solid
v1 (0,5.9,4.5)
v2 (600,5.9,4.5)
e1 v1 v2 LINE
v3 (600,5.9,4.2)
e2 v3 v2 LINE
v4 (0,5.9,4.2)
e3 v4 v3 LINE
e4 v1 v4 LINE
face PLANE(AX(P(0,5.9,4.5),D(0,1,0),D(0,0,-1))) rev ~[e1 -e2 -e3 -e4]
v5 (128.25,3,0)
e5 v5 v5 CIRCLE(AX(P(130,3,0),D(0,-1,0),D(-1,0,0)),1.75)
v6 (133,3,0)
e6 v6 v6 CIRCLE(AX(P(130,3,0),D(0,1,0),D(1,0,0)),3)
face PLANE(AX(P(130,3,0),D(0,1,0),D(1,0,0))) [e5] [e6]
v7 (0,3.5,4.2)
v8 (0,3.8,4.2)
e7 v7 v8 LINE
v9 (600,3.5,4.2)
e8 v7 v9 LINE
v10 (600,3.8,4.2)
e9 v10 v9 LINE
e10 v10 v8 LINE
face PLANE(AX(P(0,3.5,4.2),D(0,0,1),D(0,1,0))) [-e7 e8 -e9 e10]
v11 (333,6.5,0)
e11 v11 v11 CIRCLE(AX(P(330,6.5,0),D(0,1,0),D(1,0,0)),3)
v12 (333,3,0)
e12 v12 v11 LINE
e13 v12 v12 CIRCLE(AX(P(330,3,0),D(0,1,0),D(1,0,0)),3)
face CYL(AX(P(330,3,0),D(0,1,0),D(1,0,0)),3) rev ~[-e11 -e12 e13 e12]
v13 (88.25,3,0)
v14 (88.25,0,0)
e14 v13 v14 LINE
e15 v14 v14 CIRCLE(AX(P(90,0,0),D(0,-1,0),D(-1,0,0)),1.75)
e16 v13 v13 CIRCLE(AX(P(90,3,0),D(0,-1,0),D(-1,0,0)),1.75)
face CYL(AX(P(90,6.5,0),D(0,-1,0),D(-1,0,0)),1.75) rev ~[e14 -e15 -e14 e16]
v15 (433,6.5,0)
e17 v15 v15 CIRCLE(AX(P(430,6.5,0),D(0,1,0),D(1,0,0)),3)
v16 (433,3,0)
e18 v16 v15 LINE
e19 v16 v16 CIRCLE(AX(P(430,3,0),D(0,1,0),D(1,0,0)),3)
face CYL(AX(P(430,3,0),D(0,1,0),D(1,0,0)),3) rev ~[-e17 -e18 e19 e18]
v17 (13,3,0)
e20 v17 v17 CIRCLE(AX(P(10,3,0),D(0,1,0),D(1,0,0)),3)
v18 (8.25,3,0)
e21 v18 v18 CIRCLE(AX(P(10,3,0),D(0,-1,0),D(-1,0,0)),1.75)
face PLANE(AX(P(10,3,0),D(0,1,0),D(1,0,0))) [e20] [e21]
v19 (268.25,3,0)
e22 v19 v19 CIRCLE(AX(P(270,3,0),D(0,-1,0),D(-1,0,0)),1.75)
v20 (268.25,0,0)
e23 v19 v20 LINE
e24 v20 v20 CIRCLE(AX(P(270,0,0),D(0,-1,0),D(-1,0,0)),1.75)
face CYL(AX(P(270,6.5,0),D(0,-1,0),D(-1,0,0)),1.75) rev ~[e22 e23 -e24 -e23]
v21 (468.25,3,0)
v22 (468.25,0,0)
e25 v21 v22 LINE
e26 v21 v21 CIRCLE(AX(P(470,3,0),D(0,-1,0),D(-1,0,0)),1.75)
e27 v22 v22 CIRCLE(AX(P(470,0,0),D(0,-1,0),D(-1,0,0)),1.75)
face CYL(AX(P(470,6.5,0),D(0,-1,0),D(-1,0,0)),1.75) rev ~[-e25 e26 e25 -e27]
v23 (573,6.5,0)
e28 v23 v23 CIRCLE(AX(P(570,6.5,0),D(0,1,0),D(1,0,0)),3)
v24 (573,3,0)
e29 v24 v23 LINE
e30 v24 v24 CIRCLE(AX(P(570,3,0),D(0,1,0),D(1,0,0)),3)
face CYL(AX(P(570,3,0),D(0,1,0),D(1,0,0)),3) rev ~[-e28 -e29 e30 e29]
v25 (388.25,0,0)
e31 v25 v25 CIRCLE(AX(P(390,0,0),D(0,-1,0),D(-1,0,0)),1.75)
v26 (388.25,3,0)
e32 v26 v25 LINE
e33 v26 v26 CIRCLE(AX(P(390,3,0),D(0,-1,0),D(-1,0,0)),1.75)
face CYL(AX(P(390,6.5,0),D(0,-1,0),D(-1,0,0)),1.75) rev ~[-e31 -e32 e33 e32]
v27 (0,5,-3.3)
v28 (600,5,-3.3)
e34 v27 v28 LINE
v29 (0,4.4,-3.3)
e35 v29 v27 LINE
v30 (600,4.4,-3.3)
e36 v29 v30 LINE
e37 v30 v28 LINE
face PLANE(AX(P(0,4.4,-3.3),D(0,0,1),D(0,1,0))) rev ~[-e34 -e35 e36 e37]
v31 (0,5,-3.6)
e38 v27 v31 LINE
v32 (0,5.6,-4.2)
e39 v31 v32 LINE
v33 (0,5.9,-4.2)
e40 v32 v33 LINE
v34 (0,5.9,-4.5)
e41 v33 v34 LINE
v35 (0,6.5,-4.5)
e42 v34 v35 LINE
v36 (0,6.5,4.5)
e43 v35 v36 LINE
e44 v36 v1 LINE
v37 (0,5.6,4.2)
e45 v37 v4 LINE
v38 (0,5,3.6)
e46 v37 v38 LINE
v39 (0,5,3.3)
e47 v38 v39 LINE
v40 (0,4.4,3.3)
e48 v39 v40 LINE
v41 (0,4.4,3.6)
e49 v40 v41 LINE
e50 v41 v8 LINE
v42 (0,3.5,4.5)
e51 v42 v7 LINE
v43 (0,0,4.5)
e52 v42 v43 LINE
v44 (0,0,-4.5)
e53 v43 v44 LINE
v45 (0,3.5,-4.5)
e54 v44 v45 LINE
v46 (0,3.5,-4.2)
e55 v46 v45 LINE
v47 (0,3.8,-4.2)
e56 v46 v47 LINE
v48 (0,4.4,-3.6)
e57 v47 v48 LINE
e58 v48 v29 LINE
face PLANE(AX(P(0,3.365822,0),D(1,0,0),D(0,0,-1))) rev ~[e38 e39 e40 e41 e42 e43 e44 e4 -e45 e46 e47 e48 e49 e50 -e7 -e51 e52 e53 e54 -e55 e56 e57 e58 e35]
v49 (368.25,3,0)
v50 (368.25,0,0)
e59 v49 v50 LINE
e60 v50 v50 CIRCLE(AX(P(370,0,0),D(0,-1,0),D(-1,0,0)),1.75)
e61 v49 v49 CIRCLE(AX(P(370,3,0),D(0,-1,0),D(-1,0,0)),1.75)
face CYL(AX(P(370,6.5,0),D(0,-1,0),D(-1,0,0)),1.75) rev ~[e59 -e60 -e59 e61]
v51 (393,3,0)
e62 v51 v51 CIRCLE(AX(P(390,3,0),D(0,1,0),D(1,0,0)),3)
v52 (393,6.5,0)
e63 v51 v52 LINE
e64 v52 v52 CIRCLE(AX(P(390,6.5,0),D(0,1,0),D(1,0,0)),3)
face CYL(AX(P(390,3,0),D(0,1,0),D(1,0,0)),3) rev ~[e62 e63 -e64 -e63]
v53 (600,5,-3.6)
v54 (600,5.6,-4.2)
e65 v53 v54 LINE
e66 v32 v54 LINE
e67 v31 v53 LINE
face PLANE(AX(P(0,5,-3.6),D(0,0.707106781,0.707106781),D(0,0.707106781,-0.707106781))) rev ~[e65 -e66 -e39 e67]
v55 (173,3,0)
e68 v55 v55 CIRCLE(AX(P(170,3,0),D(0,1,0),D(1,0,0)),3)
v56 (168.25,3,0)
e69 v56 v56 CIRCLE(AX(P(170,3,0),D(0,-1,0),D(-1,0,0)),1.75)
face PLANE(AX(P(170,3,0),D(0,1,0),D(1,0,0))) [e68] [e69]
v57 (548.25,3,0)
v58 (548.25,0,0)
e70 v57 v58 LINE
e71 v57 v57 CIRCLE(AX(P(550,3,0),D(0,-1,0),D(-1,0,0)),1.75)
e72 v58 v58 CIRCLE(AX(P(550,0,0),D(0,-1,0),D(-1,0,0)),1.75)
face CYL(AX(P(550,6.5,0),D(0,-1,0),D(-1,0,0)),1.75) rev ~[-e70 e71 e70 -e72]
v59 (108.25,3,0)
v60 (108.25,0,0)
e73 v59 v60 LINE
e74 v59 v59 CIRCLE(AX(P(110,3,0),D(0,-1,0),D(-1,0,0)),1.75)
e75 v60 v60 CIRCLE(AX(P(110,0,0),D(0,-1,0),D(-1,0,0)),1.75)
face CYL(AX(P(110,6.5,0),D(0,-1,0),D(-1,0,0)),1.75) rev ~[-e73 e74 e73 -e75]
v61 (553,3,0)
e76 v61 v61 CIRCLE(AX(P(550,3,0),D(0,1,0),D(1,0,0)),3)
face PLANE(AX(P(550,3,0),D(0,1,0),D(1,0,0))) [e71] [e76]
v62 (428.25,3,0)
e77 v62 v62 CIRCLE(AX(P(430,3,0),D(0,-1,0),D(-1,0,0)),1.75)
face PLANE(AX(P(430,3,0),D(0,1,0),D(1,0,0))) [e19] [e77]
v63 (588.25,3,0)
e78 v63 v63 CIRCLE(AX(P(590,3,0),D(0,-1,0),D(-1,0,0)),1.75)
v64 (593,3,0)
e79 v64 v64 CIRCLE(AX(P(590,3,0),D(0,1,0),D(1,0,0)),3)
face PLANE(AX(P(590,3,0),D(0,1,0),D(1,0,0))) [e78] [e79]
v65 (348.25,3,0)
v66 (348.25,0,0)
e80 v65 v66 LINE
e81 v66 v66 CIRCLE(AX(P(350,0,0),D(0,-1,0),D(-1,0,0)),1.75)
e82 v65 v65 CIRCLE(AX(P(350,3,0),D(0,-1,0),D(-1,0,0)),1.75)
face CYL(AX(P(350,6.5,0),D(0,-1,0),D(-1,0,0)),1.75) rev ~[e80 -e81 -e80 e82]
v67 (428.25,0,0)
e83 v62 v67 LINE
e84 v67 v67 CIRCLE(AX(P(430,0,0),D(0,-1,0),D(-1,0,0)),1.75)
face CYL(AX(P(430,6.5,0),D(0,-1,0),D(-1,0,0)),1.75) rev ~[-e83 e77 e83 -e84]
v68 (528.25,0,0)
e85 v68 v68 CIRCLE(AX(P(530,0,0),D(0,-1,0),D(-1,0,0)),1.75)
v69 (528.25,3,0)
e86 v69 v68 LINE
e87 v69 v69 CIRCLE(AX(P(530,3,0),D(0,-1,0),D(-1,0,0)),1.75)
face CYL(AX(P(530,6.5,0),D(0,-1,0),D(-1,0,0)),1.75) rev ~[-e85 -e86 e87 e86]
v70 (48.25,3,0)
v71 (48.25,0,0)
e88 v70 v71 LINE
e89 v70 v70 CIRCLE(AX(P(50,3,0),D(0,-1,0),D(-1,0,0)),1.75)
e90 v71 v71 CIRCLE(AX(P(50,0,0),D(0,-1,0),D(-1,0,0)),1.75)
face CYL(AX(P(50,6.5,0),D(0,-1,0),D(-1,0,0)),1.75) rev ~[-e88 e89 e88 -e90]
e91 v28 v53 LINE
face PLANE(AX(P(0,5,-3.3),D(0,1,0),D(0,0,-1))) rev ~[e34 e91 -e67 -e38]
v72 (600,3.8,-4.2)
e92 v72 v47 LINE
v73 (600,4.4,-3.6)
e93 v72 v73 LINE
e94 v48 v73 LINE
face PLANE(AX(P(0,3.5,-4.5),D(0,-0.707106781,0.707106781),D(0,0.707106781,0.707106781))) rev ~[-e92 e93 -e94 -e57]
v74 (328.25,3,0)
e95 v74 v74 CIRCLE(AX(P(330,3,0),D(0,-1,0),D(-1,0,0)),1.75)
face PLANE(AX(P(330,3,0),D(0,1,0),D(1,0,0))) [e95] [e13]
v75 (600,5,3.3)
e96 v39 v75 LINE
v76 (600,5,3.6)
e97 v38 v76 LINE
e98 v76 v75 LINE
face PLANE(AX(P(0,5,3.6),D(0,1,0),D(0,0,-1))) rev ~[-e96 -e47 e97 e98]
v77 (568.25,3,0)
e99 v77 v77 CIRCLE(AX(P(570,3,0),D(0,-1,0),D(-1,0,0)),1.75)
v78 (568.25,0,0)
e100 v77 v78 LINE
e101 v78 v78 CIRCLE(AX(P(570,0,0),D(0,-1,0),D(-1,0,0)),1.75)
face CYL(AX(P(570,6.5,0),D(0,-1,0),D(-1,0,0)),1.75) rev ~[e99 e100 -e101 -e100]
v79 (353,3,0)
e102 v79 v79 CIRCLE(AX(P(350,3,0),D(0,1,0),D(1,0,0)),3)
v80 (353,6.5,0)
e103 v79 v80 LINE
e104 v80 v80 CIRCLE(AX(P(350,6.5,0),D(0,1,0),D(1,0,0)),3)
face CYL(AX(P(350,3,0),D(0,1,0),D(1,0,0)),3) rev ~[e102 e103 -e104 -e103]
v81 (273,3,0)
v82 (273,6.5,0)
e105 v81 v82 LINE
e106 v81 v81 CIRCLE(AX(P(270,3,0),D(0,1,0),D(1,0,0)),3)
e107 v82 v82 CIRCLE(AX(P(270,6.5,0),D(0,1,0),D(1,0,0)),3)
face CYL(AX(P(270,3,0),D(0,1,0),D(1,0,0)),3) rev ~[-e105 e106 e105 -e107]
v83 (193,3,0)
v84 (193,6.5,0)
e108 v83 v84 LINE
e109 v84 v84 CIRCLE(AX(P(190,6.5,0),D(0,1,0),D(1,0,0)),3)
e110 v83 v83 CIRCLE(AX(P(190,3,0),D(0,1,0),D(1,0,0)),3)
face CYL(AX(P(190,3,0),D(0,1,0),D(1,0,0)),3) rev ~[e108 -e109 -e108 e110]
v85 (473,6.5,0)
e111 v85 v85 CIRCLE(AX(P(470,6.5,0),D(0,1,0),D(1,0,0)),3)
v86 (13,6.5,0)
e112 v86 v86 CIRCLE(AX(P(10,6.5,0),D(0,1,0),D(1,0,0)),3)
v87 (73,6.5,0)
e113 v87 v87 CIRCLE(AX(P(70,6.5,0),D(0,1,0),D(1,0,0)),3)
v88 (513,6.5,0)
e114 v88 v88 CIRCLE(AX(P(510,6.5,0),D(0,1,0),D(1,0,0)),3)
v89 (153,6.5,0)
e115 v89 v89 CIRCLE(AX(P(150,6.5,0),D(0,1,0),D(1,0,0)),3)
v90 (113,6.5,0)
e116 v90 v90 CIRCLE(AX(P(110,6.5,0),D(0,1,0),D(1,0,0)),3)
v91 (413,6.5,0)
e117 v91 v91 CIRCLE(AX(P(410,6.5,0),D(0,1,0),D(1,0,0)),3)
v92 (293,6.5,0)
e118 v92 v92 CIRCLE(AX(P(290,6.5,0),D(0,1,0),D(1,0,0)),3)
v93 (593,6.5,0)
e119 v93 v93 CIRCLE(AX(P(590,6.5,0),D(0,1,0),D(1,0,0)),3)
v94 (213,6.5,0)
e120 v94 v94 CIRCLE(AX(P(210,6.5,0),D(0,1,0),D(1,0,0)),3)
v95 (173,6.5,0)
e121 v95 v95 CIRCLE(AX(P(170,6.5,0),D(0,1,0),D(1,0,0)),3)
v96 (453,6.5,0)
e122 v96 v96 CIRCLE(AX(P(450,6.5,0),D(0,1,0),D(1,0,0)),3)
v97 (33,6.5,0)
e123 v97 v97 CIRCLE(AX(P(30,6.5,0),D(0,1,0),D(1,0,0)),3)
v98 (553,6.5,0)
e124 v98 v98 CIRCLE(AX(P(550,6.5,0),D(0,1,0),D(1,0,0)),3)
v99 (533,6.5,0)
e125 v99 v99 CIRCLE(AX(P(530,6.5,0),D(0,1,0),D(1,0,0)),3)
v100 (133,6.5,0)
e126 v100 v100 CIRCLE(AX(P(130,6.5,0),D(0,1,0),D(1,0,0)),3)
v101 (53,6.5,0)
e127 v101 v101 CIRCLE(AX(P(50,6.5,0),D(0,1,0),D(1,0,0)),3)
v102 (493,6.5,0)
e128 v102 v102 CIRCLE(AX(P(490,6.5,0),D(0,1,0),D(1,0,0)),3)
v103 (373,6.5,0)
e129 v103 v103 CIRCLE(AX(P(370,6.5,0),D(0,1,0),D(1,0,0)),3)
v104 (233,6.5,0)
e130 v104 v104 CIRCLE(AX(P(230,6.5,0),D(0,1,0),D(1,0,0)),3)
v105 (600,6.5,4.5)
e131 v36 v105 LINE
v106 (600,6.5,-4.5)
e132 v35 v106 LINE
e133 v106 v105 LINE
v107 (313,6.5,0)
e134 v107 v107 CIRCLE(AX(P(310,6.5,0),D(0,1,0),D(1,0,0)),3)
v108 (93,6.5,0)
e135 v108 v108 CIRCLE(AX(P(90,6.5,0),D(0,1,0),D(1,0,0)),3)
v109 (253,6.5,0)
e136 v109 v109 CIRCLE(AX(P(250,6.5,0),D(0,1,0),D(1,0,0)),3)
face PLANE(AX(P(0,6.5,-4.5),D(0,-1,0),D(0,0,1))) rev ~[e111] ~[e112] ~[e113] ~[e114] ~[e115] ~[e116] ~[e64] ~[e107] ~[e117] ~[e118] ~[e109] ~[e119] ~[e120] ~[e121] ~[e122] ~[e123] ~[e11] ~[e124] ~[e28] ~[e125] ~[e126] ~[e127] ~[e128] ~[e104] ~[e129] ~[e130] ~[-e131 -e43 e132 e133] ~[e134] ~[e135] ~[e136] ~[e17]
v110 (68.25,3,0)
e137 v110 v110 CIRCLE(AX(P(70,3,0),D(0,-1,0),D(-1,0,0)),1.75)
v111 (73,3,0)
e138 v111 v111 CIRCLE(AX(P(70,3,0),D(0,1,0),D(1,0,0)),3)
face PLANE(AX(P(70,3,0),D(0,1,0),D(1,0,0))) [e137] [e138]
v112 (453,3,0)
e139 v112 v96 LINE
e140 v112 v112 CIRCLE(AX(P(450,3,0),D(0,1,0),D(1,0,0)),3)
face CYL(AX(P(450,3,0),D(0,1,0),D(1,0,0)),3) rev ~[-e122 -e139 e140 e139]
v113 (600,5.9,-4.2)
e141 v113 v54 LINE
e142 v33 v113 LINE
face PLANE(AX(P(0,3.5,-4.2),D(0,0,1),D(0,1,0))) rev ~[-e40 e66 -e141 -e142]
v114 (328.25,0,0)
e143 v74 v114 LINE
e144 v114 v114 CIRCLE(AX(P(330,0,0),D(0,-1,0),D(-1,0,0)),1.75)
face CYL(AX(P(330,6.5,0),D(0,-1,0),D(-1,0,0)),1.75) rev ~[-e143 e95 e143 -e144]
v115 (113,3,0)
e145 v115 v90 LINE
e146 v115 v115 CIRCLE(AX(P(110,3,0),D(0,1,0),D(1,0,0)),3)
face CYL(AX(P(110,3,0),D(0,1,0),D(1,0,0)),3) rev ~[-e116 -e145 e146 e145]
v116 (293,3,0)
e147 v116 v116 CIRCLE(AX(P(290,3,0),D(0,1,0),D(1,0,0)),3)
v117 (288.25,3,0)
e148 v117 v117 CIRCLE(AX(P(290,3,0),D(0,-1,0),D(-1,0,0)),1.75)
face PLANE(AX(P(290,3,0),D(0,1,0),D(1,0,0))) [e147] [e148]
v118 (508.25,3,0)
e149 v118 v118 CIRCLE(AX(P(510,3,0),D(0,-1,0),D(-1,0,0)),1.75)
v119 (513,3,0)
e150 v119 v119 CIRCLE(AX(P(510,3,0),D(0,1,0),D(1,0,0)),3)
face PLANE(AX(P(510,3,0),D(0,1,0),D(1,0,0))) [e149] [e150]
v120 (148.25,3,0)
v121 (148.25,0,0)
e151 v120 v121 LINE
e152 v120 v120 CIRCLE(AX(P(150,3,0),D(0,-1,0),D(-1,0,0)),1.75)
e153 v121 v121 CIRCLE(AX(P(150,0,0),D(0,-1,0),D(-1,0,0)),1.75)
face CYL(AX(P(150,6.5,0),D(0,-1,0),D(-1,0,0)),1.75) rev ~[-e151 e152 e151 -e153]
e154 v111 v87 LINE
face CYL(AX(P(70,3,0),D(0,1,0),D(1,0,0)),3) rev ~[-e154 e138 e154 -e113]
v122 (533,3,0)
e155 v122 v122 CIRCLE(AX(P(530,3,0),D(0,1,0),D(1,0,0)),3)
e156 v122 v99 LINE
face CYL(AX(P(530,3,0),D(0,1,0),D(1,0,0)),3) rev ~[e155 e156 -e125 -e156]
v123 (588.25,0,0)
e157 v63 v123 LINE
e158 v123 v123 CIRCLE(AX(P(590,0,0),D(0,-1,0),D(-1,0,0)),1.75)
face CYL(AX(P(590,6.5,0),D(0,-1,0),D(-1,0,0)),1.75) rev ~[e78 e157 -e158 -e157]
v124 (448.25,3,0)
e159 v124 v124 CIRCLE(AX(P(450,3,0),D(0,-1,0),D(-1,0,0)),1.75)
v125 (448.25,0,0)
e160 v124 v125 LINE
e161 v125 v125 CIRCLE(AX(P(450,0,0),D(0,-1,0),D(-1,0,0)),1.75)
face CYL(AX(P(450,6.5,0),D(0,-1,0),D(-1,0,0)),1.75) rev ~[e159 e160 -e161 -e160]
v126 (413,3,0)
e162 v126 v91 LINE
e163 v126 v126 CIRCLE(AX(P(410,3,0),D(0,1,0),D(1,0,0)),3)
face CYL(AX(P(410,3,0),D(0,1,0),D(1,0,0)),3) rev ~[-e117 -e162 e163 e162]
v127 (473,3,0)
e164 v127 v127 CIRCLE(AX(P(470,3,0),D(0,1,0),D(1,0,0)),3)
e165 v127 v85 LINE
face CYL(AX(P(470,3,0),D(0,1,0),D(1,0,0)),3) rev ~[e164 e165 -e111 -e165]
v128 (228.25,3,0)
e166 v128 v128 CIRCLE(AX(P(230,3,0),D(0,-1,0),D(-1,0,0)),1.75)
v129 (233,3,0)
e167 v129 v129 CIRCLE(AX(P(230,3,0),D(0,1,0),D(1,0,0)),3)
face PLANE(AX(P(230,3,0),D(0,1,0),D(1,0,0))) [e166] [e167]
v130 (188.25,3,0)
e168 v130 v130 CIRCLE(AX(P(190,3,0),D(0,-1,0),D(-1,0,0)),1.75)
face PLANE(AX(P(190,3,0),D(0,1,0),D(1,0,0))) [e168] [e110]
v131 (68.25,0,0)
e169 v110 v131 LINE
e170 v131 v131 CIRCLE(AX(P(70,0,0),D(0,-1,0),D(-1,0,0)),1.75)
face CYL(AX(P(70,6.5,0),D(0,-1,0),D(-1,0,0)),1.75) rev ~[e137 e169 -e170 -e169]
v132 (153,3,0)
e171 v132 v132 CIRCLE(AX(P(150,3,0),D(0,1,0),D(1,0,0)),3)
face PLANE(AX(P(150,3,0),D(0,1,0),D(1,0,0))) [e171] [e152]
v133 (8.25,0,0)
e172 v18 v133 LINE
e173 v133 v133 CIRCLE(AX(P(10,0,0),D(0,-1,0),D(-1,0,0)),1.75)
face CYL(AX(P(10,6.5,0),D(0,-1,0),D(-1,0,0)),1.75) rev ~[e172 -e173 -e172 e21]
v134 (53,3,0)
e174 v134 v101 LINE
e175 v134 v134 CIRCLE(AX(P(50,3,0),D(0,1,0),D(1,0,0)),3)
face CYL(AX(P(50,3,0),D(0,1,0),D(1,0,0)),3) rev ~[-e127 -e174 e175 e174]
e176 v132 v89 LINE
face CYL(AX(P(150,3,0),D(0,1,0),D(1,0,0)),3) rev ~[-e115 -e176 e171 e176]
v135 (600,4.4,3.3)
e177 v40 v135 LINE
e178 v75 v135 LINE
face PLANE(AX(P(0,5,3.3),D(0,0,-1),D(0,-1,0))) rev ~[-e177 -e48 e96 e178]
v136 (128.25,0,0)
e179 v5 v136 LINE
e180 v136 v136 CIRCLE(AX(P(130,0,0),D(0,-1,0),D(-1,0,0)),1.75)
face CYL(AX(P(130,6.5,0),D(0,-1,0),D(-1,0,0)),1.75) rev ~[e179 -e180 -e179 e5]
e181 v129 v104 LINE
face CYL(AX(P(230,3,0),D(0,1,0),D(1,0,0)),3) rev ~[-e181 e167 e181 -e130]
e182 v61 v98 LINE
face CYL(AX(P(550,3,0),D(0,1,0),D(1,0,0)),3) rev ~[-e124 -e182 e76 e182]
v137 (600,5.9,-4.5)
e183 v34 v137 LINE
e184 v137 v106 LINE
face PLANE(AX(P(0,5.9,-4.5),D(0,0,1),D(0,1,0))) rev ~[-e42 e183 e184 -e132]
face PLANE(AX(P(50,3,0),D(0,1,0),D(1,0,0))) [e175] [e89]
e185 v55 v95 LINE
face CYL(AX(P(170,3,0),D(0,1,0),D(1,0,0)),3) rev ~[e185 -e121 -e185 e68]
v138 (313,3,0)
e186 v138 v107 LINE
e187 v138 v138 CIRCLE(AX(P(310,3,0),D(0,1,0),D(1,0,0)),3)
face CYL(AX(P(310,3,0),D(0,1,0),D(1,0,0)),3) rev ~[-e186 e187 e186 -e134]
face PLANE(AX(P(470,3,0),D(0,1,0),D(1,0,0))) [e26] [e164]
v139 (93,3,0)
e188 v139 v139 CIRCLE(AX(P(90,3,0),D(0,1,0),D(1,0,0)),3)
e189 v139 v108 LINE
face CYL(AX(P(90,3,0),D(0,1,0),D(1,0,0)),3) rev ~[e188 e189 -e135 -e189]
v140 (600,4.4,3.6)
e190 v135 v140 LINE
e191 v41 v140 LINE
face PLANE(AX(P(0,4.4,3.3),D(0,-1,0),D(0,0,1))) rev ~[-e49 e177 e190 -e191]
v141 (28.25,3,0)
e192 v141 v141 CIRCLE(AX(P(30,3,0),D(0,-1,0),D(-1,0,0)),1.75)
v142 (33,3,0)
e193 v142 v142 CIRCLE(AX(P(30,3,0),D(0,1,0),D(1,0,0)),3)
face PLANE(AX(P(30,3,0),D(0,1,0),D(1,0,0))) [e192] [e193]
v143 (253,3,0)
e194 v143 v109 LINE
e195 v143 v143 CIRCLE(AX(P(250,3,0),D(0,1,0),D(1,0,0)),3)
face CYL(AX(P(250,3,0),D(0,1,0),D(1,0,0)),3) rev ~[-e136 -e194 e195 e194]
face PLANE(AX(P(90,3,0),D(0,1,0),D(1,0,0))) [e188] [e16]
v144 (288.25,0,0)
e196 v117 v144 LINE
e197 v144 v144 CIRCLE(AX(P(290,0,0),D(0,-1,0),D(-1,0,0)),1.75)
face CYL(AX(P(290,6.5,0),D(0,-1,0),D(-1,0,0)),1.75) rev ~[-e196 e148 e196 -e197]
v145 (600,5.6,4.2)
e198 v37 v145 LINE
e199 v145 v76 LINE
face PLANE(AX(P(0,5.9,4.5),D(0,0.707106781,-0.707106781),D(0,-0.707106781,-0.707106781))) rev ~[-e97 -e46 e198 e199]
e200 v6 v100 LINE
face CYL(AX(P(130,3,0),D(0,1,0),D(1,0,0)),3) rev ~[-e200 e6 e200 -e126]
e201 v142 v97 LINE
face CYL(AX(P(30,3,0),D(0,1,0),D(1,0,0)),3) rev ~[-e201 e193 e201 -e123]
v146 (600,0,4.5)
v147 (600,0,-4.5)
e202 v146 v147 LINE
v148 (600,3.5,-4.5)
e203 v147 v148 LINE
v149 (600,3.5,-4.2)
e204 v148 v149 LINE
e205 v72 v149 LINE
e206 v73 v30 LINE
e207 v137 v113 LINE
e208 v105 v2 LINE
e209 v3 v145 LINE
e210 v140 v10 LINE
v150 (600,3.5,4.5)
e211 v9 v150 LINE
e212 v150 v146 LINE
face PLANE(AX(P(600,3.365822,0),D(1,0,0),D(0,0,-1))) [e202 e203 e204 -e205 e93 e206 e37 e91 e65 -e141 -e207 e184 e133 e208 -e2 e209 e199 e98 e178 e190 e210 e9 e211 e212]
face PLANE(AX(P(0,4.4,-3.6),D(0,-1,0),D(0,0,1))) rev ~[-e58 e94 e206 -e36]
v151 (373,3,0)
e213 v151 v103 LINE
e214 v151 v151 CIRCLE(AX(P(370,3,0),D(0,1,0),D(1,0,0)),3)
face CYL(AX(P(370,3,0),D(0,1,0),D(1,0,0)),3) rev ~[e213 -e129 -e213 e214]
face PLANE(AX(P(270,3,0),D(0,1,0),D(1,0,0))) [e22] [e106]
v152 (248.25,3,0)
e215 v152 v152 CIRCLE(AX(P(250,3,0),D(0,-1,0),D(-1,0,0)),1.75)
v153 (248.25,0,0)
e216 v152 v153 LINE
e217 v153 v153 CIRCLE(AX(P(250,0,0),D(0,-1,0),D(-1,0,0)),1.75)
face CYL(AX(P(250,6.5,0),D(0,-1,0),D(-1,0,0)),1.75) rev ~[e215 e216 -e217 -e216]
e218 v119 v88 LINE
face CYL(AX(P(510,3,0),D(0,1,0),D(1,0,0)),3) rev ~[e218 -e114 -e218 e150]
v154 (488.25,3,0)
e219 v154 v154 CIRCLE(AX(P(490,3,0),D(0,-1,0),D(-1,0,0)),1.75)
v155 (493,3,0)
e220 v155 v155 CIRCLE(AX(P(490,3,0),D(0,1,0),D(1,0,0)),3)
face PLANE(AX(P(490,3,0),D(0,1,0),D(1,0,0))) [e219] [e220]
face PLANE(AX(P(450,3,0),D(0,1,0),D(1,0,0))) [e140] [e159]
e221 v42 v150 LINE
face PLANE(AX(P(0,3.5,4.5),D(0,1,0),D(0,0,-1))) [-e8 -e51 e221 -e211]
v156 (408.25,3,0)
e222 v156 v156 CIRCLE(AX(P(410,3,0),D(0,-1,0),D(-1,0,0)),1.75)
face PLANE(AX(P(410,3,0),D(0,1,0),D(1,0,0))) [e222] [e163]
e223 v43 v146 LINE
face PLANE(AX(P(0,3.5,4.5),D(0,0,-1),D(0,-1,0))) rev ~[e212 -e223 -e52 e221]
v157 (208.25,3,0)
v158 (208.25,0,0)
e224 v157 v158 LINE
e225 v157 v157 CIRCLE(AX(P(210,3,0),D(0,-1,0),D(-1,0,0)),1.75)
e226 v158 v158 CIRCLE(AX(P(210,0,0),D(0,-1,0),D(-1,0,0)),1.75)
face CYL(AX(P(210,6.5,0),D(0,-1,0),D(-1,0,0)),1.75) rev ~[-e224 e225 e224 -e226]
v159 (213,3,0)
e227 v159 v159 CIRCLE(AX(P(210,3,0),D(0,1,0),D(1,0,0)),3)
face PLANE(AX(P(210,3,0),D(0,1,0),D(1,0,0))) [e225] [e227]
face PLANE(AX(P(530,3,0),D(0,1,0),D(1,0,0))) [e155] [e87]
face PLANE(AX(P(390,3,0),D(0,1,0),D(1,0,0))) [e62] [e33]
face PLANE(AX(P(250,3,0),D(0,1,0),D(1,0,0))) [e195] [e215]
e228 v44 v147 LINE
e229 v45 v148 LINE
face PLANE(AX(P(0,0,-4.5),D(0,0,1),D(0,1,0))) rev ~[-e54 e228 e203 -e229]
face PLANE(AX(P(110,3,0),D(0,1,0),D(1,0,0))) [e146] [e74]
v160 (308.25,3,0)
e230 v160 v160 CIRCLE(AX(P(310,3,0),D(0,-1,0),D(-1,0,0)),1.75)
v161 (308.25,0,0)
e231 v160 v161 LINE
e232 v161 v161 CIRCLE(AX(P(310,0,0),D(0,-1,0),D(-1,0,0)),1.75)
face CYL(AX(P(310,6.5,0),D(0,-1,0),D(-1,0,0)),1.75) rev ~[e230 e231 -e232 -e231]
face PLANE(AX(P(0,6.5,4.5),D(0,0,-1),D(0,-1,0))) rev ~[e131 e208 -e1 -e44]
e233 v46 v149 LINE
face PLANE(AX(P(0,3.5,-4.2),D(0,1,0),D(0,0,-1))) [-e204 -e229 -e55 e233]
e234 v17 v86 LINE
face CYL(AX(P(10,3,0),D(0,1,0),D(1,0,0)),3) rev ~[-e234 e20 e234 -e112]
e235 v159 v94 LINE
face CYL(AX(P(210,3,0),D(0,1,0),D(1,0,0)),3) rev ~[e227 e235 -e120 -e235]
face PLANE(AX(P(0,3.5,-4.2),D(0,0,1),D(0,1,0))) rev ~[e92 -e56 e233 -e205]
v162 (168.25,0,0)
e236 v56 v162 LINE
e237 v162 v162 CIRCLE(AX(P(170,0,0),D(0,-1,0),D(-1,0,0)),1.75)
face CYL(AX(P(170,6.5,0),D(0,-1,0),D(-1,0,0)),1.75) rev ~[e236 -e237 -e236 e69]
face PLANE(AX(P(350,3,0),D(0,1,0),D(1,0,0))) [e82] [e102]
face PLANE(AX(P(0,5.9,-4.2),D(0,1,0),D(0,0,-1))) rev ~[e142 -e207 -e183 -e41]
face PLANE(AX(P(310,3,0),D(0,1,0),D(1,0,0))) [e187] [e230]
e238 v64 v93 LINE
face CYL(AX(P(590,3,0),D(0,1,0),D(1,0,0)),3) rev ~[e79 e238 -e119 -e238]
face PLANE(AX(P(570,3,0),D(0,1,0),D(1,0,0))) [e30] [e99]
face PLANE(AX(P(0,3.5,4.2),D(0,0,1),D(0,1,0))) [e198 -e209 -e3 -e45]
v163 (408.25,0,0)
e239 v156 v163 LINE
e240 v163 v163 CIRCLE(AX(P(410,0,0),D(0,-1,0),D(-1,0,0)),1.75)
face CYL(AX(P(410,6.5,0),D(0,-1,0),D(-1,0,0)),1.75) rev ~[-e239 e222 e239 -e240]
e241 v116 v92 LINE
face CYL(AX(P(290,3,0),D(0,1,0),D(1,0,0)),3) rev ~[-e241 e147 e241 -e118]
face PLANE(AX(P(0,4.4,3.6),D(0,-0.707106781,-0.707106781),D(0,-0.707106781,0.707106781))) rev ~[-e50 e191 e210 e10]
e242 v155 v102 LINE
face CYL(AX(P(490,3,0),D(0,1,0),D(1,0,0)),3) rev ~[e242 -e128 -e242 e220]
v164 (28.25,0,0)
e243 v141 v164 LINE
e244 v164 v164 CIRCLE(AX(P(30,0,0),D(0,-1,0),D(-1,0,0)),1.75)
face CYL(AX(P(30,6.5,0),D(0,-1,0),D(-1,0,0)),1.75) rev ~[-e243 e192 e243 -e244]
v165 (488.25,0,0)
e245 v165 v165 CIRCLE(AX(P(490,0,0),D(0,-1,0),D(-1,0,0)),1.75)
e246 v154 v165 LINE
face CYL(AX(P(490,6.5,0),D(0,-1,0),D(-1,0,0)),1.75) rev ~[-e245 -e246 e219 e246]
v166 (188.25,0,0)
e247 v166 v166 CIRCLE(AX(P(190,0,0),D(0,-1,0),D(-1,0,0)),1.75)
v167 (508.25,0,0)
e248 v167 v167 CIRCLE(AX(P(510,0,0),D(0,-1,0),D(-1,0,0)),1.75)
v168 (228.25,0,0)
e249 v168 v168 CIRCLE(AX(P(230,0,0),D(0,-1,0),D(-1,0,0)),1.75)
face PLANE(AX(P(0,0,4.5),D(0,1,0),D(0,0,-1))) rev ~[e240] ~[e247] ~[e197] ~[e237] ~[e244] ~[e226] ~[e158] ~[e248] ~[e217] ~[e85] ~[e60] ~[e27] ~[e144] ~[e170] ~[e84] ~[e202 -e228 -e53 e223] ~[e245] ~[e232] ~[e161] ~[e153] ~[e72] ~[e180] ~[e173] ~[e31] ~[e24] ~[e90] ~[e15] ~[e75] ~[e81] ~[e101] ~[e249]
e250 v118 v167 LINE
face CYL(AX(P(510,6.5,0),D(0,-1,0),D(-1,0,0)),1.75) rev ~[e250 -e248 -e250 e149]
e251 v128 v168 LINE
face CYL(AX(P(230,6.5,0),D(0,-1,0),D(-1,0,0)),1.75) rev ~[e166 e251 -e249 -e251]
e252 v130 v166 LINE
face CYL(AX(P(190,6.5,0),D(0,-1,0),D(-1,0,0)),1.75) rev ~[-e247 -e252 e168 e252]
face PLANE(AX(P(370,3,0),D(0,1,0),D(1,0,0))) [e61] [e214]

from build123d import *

# Parameters (mm, degrees)
BOSS_EXTRU_1_DEPTH                                 = 600
ESQUISSE2_W                                        = 0.3
ESQUISSE2_H                                        = 2.4
ENL_V_MAT_EXTRU_1_DEPTH                            = 601.052081073
CHAMBRAGE_POUR_VIS_T_TE_HEXAGONALE_M31_D           = 3.5
CHAMBRAGE_POUR_VIS_T_TE_HEXAGONALE_M31_CBORE_D     = 6
CHAMBRAGE_POUR_VIS_T_TE_HEXAGONALE_M31_CBORE_DEPTH = 3.5
R_P_TITION_LIN_AIRE1_COUNT                         = 30
R_P_TITION_LIN_AIRE1_PITCH                         = 20


with BuildPart() as part:
    # Esquisse1 → Boss.-Extru.1 (new body)
    with BuildSketch(Plane(origin=(0, 0, 0), x_dir=(0, 0, -1), z_dir=(1, 0, 0))):
        Polygon((-4.5, 0), (4.5, 0), (4.5, 3.5), (3.6, 4.4), (3.3, 4.4), (3.3, 5), (3.6, 5), (4.5, 5.9), (4.5, 6.5), (-4.5, 6.5), (-4.5, 5.9), (-3.6, 5), (-3.3, 5), (-3.3, 4.4), (-3.6, 4.4), (-4.5, 3.5), align=None)
    extrude(amount=BOSS_EXTRU_1_DEPTH)

    # Esquisse2 → Enlèv. mat.-Extru.1 (cut, through all)
    with BuildSketch(Plane(origin=(0, 0, 0), x_dir=(0, 0, -1), z_dir=(1, 0, 0))):
        with Locations((4.35, 4.7)):
            Rectangle(ESQUISSE2_W, ESQUISSE2_H)
        with Locations((-4.35, 4.7)):
            Rectangle(ESQUISSE2_W, ESQUISSE2_H)
    extrude(amount=ENL_V_MAT_EXTRU_1_DEPTH, mode=Mode.SUBTRACT)

    # Chambrage pour vis à tête hexagonale M31 (through all)
    with Locations(Plane(origin=(0, 6.5, 0), x_dir=(1, 0, 0), z_dir=(0, 1, 0))):
        with Locations((10, 0)):
            chambrage_pour_vis_t_te_hexagonale_m31 = CounterBoreHole(CHAMBRAGE_POUR_VIS_T_TE_HEXAGONALE_M31_D / 2, CHAMBRAGE_POUR_VIS_T_TE_HEXAGONALE_M31_CBORE_D / 2, CHAMBRAGE_POUR_VIS_T_TE_HEXAGONALE_M31_CBORE_DEPTH)

    # Répétition linéaire1: Chambrage pour vis à tête hexagonale M31 ×30
    with Locations(*[(i * R_P_TITION_LIN_AIRE1_PITCH, 0, 0) for i in range(1, R_P_TITION_LIN_AIRE1_COUNT)]):
        add(chambrage_pour_vis_t_te_hexagonale_m31, mode=Mode.SUBTRACT)


solid = part.part
